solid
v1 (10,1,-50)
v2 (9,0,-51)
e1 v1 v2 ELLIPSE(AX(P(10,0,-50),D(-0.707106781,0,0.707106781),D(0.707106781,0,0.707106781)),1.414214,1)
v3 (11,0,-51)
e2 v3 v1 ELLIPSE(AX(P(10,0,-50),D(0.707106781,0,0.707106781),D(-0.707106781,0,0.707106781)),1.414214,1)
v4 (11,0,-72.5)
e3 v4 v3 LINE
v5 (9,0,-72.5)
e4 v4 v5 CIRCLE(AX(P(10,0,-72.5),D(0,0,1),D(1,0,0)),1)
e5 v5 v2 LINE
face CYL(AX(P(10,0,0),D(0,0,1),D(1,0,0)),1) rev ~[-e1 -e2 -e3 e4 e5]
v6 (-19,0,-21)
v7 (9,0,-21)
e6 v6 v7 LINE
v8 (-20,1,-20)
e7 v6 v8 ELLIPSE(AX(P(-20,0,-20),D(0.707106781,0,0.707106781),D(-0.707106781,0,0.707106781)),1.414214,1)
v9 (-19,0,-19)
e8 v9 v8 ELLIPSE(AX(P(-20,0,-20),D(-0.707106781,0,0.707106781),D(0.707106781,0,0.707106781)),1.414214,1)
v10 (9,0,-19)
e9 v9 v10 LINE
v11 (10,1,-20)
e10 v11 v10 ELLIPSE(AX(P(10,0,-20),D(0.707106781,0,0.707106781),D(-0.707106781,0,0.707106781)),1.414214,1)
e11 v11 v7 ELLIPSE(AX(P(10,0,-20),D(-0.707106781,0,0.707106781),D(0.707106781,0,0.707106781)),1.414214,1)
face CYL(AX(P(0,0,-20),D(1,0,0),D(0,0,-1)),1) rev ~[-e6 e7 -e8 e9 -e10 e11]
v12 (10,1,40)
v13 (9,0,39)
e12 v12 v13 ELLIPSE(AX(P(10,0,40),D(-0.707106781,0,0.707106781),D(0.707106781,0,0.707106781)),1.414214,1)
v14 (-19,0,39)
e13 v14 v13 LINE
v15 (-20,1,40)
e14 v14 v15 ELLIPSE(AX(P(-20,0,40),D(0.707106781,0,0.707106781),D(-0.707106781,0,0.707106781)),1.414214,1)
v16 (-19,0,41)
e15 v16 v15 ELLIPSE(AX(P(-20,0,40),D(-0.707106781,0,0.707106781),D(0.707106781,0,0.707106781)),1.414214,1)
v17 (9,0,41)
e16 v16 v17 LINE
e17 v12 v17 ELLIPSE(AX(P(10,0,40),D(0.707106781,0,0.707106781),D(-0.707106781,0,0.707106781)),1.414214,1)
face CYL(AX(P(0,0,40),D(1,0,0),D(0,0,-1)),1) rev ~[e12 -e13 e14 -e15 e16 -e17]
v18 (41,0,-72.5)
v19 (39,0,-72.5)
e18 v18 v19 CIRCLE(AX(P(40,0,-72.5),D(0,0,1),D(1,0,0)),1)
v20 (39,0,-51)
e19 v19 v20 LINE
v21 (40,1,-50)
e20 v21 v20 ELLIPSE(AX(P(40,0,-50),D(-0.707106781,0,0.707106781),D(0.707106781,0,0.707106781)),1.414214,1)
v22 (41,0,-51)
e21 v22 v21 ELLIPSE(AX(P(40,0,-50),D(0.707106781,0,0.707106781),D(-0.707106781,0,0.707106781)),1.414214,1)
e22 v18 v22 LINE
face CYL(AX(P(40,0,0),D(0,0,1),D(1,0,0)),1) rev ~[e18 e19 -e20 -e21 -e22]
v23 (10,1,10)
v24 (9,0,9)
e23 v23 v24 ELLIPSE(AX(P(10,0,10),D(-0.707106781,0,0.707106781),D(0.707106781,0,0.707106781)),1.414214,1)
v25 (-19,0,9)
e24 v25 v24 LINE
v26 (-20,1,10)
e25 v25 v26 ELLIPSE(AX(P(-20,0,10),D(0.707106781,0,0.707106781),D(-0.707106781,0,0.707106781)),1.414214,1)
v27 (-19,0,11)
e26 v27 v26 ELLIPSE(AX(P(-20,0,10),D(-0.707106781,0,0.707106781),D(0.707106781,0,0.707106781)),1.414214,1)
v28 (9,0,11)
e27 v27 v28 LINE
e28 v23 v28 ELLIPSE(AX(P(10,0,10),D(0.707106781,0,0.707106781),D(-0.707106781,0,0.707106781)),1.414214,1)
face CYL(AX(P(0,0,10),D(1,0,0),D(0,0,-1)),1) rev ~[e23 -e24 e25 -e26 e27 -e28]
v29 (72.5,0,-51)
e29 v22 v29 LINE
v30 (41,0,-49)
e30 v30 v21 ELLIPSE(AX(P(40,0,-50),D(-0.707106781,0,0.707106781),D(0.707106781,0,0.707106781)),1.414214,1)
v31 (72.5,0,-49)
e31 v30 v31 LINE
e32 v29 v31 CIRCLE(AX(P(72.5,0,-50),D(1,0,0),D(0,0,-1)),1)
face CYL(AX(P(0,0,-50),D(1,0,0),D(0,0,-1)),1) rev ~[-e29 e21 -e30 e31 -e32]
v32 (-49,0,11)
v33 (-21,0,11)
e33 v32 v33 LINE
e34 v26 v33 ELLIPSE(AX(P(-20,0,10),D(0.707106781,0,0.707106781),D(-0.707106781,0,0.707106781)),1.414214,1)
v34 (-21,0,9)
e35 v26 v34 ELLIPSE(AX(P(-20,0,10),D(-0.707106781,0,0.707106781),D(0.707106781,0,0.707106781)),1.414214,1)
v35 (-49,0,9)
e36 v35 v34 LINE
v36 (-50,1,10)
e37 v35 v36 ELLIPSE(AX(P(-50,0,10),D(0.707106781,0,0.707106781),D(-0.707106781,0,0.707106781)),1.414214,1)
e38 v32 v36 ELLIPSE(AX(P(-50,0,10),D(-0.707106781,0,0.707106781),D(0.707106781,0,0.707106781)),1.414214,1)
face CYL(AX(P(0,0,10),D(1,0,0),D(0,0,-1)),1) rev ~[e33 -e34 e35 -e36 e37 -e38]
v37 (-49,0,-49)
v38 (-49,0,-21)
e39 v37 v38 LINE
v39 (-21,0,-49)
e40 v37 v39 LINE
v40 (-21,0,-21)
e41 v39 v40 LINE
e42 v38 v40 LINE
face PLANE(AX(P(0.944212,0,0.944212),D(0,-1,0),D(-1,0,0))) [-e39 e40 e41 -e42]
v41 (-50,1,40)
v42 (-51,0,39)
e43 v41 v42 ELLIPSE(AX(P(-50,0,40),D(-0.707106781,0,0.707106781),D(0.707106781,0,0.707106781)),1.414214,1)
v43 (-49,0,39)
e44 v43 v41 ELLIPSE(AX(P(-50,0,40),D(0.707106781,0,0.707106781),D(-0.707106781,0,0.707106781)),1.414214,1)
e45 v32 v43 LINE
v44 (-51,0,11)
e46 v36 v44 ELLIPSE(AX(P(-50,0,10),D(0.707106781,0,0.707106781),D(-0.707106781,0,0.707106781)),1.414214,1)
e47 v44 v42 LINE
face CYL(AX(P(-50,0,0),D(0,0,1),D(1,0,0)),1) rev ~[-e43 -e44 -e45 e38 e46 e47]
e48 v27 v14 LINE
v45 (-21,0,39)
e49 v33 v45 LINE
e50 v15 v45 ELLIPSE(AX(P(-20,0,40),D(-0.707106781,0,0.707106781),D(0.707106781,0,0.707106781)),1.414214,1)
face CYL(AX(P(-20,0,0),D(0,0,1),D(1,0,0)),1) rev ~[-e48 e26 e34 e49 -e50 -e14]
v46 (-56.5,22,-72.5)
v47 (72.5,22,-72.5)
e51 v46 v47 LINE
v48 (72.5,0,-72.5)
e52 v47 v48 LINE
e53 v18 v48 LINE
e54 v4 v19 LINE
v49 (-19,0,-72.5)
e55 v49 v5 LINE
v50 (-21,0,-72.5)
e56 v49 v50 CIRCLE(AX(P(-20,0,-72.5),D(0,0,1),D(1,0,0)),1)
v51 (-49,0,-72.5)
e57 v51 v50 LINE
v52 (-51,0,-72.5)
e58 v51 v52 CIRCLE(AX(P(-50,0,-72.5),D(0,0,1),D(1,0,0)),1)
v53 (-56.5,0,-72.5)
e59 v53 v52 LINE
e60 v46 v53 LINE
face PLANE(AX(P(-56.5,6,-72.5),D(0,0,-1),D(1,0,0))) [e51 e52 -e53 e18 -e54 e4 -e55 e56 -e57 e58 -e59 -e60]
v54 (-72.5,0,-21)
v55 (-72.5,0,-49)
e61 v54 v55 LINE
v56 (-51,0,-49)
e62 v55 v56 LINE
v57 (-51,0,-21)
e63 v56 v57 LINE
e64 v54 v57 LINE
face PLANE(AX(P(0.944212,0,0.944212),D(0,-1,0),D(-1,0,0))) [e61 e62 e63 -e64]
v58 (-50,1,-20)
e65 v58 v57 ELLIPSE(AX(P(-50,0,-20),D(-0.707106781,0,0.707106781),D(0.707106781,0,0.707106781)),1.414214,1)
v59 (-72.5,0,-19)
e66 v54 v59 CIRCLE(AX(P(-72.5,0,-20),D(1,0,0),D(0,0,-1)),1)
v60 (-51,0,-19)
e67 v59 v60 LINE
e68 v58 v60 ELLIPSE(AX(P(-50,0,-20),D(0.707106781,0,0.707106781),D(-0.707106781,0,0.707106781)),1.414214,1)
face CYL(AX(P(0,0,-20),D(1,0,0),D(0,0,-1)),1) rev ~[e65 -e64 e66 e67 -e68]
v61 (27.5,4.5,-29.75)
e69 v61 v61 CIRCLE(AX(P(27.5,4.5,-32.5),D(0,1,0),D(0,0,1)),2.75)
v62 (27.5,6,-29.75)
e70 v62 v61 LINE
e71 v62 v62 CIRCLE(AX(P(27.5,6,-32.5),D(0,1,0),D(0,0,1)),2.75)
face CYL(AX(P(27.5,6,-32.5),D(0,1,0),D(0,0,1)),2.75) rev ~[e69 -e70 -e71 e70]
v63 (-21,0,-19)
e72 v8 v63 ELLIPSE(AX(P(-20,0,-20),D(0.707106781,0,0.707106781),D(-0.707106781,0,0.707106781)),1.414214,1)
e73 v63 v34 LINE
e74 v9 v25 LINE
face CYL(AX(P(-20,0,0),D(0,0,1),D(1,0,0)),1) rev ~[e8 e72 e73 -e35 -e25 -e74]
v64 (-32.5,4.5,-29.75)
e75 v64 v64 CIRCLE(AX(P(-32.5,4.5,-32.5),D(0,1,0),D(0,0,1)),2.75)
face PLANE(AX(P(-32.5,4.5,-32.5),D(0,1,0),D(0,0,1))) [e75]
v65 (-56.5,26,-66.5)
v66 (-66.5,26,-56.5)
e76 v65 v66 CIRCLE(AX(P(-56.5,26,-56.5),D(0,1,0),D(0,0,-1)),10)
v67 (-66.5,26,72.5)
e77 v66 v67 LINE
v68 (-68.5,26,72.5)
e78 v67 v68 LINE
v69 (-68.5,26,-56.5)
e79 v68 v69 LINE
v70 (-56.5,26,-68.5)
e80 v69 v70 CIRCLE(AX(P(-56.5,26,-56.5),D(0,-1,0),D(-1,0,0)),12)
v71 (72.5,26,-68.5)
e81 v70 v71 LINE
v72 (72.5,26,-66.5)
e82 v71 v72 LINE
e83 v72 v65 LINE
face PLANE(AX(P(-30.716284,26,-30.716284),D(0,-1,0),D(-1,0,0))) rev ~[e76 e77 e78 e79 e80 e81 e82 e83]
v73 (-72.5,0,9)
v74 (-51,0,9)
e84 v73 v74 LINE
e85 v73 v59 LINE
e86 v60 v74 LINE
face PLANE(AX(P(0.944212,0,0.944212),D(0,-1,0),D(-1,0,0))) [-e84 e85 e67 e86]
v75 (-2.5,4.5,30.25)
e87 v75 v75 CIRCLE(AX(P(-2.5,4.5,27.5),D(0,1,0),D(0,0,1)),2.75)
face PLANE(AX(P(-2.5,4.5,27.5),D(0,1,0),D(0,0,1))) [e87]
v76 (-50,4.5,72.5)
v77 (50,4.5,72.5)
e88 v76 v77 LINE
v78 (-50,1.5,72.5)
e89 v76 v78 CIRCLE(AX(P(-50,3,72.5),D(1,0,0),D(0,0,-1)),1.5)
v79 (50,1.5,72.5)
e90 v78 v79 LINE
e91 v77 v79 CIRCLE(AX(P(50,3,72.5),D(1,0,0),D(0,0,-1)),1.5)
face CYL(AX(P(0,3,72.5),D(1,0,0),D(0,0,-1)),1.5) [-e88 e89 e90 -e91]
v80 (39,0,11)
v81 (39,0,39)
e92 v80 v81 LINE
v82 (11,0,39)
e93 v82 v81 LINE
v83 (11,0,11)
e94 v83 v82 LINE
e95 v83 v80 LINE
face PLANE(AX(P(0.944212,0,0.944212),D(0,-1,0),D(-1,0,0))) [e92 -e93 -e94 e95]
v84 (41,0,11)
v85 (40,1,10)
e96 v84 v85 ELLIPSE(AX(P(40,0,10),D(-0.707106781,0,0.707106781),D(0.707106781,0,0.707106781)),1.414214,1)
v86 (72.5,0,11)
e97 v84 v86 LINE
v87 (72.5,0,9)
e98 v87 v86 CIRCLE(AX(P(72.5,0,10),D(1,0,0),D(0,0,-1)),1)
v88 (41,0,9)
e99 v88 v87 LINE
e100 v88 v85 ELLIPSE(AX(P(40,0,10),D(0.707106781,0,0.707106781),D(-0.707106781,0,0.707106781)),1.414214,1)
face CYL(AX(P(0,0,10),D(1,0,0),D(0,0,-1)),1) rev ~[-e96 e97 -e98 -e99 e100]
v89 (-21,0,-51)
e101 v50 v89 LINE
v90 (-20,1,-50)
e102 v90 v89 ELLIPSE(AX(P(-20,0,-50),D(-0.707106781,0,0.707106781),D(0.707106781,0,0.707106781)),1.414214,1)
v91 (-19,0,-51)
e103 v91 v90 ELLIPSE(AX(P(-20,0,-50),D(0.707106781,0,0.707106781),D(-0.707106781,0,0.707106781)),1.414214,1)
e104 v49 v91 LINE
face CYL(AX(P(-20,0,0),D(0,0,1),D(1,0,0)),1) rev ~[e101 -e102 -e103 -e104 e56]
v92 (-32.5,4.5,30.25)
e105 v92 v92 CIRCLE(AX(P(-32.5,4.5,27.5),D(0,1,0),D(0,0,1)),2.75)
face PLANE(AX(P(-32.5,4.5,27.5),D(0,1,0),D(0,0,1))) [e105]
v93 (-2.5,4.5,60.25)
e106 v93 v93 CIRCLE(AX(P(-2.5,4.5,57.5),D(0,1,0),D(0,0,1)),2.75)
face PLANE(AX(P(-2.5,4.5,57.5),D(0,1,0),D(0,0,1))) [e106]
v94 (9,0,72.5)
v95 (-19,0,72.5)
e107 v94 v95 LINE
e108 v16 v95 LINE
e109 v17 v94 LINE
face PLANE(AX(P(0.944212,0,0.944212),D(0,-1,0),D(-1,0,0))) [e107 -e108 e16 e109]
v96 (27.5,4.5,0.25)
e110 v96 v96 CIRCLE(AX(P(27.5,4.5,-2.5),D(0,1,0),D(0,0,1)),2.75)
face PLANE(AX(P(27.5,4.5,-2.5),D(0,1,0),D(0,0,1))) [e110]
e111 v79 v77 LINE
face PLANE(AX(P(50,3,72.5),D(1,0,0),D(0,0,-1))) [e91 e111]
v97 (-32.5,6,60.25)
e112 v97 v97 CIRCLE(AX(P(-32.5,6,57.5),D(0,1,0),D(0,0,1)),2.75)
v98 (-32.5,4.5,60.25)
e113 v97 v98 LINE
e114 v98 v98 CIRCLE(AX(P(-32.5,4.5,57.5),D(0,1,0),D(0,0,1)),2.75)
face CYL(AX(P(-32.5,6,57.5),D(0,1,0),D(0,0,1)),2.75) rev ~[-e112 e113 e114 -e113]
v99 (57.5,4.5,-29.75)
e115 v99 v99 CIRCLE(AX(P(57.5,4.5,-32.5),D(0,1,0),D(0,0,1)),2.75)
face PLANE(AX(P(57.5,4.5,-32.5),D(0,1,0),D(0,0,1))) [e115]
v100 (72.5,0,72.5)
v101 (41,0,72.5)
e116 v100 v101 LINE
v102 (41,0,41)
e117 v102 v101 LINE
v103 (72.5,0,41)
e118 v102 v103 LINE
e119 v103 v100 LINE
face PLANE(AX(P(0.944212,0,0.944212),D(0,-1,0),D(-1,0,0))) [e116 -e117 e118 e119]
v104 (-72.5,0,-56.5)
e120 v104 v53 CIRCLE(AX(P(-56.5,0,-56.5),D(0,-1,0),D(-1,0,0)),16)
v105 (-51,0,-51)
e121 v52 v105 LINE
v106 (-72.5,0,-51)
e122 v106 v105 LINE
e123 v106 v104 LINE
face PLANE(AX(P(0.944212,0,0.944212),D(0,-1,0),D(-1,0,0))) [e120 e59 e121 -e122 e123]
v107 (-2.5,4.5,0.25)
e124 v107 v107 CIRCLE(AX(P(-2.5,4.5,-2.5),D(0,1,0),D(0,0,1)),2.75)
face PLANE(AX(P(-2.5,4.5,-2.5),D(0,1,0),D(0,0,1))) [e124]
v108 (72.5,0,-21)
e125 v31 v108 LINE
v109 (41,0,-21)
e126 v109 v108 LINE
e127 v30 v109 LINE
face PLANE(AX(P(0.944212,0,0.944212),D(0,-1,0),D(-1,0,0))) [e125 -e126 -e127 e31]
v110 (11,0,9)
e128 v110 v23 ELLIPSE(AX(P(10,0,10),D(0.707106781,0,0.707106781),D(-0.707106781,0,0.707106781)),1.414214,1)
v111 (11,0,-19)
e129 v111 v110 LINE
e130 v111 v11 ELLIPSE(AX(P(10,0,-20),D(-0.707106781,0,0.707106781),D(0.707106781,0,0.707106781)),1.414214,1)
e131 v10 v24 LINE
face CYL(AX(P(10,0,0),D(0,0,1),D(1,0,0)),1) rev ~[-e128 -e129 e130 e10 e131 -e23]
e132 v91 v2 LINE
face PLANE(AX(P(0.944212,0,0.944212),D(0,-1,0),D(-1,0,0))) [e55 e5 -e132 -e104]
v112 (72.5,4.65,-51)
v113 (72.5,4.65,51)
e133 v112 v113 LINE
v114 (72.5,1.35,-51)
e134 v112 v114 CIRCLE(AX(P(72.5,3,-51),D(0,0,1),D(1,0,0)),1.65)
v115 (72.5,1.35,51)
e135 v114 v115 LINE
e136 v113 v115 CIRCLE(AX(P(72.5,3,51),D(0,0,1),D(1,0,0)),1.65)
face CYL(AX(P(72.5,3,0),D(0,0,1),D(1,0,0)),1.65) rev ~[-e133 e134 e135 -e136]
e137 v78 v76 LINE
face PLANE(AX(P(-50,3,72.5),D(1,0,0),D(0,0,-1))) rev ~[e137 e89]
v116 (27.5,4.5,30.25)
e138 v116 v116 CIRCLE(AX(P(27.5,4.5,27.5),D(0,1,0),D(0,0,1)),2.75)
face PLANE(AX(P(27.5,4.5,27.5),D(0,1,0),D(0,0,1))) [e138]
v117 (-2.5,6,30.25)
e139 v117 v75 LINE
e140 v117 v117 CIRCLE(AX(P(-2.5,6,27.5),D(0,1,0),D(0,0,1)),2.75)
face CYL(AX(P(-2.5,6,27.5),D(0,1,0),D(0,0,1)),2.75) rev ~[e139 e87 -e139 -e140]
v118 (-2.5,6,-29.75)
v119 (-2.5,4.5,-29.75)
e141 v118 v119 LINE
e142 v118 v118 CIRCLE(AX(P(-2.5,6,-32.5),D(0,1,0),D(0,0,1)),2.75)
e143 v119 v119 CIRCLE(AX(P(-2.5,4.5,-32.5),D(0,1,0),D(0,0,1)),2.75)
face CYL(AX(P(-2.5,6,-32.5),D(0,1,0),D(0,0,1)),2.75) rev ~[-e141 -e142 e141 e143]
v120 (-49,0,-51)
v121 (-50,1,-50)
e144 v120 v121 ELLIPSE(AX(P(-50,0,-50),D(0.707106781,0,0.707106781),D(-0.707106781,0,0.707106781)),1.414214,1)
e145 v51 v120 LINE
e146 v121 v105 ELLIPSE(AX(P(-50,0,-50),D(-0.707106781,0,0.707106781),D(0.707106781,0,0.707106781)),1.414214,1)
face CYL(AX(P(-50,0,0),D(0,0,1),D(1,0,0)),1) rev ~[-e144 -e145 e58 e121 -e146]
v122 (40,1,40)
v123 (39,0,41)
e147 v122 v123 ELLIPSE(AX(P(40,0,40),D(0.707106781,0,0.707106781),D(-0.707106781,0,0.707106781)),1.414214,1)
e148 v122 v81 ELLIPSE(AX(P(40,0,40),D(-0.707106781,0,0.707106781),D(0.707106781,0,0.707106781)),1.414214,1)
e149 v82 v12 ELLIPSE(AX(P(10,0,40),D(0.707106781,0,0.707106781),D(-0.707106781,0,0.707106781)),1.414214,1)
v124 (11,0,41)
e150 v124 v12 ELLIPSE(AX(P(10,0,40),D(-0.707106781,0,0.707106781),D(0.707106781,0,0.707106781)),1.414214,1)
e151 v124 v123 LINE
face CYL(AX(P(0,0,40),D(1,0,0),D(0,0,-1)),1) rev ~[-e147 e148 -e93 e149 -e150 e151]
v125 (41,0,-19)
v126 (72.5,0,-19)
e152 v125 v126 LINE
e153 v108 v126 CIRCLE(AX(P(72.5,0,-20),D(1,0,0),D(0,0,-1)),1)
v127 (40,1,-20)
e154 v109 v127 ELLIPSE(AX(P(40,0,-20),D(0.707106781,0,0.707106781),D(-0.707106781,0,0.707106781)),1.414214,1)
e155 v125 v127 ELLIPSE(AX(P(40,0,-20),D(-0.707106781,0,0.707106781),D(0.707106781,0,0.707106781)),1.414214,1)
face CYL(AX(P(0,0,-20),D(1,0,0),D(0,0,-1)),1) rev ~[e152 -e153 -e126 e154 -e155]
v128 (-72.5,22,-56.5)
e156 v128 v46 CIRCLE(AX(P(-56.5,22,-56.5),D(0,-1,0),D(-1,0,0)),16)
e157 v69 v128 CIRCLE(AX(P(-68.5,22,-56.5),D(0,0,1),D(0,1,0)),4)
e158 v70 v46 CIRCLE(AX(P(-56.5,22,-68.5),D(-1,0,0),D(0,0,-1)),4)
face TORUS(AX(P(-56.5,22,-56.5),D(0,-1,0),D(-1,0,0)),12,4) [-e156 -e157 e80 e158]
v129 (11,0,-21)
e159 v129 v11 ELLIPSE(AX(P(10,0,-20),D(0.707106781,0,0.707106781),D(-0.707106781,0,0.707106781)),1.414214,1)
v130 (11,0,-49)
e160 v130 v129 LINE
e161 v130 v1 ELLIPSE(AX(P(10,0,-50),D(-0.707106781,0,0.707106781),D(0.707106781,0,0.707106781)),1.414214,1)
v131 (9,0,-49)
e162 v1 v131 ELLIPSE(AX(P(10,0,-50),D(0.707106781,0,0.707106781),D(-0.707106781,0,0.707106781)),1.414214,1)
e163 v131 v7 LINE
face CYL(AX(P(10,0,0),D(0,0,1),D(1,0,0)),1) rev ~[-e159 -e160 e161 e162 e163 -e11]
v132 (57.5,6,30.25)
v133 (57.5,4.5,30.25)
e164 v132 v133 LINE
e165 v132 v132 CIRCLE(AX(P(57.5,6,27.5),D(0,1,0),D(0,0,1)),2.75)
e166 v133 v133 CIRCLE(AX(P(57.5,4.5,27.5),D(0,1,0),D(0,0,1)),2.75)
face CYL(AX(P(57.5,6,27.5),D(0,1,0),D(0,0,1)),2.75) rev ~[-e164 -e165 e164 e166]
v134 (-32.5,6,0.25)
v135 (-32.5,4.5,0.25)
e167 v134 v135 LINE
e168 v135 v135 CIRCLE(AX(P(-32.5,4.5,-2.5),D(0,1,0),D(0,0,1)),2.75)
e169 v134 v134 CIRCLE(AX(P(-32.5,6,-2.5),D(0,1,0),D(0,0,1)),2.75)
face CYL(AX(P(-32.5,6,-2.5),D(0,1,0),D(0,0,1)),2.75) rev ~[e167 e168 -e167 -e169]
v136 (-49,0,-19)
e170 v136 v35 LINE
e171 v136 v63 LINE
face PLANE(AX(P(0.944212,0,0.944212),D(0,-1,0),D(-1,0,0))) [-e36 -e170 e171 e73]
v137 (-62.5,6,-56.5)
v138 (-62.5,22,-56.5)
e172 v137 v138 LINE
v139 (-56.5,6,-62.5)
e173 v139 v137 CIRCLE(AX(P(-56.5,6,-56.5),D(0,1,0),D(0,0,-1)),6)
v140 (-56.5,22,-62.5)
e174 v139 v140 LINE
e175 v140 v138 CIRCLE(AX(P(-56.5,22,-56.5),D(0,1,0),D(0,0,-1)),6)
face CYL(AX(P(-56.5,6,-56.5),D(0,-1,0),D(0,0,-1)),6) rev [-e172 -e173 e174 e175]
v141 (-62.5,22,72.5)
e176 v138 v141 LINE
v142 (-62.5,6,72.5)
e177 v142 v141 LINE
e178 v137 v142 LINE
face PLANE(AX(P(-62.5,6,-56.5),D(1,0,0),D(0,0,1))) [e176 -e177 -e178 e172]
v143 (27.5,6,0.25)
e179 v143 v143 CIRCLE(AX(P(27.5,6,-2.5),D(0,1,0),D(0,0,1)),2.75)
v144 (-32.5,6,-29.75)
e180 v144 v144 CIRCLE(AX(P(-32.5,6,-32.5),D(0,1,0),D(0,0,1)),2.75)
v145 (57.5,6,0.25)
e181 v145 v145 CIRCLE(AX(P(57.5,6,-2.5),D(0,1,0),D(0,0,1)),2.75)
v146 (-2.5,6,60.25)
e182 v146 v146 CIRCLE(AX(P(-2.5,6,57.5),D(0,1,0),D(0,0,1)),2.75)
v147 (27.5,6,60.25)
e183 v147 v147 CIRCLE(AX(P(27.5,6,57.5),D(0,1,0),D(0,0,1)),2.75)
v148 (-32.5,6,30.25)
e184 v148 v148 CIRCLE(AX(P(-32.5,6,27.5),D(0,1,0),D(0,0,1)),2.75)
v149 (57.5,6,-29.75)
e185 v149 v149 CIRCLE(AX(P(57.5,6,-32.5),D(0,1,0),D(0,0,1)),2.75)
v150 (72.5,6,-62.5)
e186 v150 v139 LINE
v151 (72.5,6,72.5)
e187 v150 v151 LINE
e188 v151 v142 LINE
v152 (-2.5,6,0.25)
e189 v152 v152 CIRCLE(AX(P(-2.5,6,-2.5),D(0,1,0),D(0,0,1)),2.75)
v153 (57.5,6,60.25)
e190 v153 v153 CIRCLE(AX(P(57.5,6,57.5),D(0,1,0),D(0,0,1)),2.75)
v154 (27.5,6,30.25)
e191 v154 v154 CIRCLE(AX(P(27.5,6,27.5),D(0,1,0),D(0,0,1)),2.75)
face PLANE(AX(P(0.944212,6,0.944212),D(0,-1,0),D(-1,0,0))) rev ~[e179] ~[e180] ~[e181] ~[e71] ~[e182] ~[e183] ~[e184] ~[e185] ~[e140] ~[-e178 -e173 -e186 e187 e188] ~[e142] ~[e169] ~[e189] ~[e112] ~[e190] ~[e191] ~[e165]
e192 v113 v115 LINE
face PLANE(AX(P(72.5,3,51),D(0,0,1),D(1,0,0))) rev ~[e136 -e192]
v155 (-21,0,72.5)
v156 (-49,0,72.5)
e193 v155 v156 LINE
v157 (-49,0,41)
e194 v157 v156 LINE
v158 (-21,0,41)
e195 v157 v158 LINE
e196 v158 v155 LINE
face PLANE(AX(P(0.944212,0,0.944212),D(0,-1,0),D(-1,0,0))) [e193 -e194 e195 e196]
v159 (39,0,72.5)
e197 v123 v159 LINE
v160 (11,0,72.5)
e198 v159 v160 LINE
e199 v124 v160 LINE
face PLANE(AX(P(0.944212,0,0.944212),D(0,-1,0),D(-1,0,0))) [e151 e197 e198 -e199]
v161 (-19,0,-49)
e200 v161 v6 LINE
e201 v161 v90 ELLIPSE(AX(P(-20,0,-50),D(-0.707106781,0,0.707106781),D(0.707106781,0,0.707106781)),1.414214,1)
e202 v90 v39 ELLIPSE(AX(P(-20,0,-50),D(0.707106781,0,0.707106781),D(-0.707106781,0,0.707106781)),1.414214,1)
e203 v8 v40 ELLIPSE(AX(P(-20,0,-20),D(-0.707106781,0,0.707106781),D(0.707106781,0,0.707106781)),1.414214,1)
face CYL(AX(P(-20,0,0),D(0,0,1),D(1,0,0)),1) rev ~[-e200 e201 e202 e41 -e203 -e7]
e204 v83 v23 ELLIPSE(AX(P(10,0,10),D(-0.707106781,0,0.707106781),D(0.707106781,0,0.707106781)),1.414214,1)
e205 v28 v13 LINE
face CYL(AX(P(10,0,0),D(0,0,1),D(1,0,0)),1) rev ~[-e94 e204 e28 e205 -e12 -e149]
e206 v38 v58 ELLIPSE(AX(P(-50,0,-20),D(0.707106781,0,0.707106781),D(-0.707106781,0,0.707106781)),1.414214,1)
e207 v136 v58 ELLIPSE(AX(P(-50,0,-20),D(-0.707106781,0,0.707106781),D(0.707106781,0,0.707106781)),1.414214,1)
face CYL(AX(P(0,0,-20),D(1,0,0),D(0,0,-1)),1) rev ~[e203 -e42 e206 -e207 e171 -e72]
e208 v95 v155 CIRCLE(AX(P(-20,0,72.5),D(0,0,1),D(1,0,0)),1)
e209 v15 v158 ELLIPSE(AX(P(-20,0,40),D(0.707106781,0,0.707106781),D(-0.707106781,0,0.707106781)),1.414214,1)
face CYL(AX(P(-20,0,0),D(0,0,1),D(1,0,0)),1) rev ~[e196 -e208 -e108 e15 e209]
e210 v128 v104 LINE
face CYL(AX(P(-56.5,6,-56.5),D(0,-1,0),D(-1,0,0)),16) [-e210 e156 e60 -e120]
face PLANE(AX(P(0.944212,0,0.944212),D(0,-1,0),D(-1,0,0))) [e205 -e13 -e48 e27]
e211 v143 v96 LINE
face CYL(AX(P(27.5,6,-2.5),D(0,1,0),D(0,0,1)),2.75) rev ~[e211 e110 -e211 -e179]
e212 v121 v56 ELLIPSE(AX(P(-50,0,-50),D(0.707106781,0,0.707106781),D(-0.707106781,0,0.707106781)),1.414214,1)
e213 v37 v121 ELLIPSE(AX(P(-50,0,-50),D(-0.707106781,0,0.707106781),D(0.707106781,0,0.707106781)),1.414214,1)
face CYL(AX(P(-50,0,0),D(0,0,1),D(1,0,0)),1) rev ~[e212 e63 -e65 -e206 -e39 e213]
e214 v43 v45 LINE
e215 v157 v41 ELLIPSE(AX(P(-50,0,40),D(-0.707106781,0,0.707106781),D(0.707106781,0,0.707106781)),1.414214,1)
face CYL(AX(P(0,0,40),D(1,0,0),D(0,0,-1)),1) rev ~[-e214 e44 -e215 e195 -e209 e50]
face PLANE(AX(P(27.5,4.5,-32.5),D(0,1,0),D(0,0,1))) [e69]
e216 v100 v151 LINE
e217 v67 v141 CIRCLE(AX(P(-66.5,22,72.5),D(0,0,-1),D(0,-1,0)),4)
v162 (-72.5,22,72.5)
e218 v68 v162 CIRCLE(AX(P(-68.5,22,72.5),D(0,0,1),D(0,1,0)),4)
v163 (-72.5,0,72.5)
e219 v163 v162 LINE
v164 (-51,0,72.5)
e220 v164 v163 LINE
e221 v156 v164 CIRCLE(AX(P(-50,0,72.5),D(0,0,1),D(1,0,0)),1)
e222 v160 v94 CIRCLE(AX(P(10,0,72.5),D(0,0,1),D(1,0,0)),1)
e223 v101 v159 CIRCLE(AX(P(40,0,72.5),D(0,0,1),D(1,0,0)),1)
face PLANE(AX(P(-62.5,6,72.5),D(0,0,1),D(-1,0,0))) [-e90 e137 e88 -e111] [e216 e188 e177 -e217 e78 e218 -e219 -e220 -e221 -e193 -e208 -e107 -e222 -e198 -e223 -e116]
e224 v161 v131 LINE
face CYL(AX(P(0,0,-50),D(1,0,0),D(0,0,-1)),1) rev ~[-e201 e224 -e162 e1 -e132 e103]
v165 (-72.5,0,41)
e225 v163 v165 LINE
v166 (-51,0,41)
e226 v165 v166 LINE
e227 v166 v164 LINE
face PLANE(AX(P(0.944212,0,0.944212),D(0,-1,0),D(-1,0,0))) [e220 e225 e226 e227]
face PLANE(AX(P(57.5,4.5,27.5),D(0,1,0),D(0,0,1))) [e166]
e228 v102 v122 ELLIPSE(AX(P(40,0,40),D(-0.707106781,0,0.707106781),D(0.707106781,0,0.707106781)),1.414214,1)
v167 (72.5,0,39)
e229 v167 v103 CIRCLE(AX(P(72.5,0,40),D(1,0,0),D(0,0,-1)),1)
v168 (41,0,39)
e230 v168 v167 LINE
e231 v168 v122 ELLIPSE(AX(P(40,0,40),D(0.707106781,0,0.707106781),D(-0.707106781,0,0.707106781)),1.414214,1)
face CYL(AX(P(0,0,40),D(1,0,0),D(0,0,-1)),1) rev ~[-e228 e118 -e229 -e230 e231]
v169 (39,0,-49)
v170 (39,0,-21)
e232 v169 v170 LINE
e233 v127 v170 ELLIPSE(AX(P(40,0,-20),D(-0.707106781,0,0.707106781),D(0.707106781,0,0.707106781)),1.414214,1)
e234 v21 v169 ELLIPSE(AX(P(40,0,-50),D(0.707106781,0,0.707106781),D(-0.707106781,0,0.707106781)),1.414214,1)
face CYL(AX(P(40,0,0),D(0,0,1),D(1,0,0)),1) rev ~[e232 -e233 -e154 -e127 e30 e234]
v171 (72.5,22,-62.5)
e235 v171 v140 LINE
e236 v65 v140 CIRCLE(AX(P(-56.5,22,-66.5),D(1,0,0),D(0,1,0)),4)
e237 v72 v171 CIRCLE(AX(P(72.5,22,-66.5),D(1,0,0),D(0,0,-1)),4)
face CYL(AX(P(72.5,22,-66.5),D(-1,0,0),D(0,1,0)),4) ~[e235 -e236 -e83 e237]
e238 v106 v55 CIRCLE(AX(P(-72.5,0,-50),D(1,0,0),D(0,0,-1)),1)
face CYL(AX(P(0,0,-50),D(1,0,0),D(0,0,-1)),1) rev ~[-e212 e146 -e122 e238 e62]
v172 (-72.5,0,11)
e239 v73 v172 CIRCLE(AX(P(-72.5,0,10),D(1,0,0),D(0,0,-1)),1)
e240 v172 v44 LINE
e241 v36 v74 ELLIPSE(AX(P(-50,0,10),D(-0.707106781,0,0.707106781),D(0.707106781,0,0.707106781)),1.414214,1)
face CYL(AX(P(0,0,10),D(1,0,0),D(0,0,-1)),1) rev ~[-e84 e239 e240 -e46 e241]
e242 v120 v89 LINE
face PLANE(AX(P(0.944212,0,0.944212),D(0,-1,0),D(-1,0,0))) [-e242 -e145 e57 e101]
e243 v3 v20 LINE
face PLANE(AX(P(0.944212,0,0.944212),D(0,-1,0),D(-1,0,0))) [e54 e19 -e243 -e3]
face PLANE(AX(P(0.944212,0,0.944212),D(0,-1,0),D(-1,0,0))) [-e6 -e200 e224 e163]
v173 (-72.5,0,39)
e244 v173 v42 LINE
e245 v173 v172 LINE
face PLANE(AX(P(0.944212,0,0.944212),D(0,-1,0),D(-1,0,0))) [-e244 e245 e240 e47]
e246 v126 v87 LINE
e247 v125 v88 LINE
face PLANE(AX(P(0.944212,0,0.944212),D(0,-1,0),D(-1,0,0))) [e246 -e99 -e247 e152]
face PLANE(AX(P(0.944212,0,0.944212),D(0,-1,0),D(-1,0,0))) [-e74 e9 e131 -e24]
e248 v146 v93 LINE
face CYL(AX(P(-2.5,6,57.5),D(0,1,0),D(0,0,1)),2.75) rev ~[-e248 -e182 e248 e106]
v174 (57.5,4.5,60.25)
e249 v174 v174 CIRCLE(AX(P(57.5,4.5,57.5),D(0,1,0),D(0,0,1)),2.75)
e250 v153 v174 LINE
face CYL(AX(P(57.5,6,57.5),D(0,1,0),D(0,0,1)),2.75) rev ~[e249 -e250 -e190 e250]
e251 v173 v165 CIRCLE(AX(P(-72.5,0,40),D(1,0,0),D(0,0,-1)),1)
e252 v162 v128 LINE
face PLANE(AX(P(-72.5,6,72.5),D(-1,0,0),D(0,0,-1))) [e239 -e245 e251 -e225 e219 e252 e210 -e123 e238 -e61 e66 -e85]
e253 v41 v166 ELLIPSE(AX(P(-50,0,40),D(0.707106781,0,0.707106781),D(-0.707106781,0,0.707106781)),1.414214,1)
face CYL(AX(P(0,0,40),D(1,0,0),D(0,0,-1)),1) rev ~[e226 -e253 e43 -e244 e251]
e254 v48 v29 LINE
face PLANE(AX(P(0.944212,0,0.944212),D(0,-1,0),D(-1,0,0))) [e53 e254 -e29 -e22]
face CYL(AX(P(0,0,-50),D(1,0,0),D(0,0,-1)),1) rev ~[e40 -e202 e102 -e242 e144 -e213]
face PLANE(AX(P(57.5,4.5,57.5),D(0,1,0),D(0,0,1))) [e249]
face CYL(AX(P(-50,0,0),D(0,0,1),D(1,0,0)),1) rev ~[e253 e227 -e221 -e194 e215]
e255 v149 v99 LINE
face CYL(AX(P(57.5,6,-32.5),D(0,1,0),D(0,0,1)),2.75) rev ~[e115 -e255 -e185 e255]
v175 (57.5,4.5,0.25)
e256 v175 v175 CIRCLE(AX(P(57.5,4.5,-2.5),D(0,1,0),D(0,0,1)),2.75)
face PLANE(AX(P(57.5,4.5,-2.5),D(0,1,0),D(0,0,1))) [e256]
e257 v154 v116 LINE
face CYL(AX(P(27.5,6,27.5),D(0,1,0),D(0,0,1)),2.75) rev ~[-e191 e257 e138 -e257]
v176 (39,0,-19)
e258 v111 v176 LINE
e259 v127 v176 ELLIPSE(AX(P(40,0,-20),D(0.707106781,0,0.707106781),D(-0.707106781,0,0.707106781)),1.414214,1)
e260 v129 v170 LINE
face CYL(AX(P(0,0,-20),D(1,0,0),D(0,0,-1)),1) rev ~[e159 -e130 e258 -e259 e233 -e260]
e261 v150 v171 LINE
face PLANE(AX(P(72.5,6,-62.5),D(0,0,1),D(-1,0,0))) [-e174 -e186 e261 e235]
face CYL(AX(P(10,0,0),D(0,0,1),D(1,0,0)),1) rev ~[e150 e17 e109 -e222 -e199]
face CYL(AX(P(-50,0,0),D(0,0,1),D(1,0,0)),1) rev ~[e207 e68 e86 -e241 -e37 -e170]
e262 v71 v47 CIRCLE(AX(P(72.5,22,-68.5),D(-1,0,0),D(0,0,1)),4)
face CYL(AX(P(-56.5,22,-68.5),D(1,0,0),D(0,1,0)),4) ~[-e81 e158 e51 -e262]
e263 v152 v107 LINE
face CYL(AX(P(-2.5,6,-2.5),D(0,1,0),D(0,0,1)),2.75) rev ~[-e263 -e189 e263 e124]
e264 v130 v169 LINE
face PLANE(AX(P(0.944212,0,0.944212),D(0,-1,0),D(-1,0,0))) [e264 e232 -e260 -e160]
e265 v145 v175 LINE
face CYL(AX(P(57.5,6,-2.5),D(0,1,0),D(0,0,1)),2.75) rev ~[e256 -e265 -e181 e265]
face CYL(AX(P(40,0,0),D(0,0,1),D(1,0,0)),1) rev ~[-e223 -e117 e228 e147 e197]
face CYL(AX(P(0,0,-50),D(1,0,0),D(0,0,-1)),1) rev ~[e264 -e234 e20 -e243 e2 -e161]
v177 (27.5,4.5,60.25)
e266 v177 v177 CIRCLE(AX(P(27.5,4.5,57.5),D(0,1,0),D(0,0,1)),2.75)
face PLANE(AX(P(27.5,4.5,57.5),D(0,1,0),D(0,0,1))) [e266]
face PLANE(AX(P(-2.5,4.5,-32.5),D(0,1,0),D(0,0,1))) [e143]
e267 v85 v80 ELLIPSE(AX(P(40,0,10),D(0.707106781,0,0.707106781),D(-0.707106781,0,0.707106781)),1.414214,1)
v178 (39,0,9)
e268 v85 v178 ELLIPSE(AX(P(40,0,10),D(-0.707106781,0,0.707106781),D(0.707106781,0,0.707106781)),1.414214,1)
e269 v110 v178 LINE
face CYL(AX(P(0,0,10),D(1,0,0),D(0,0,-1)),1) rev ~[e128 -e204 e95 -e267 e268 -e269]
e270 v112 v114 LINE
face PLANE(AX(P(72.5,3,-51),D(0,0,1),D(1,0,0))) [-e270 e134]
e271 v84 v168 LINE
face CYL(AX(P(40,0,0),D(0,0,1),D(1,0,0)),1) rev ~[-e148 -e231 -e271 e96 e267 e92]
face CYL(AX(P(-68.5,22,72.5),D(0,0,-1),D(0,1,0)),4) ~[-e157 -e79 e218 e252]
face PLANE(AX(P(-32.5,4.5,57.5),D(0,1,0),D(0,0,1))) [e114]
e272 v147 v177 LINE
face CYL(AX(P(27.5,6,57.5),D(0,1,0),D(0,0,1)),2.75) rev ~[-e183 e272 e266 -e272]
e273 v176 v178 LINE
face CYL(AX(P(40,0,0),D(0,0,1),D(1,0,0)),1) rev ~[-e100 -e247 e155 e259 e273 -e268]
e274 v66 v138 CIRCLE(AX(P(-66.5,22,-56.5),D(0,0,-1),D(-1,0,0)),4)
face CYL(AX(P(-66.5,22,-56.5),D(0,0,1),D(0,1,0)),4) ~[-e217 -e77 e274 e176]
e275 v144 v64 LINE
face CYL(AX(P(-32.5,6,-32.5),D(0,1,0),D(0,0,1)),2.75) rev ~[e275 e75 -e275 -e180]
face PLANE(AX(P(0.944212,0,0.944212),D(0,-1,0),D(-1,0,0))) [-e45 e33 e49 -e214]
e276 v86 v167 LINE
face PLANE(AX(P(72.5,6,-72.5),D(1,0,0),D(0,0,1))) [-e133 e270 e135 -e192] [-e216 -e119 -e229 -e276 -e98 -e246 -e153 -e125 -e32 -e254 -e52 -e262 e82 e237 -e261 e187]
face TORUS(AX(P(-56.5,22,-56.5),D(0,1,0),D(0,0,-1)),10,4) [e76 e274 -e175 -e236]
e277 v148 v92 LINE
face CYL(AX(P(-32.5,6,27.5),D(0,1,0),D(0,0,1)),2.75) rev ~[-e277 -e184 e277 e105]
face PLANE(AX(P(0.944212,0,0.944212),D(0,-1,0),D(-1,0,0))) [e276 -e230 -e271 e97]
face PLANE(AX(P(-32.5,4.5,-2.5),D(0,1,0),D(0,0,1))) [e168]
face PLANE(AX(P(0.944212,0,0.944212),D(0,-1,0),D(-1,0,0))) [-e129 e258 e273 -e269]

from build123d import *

# Parameters (mm, degrees)
BOSS_EXTRUDE1_DEPTH  = 6
EXTRUDE_THIN1_DEPTH  = 20
SKETCH3_R            = 2.75
CUT_EXTRUDE1_DEPTH   = 1.5
LPATTERN1_COUNT      = 4
LPATTERN1_PITCH      = 30
LPATTERN1_COUNT_DIR2 = 4
LPATTERN1_PITCH_DIR2 = 30
FILLET1_R            = 4
SKETCH4_R            = 1.5
BOSS_EXTRUDE2_DEPTH  = 50
SKETCH5_R            = 1.65
CUT_EXTRUDE2_DEPTH   = 51
SKETCH6_R            = 1
CUT_EXTRUDE3_DEPTH   = 107.809409698
LPATTERN2_COUNT      = 4
LPATTERN2_PITCH      = 30
SKETCH7_R            = 1
CUT_EXTRUDE4_DEPTH   = 107.809409698
LPATTERN3_COUNT      = 4
LPATTERN3_PITCH      = 30


with BuildPart() as part:
    # Sketch1 → Boss-Extrude1 (new body)
    with BuildSketch(Plane(origin=(0, 0, 0), x_dir=(1, 0, 0), z_dir=(0, 1, 0))):
        with BuildLine():
            Line((-56.5, 72.5), (72.5, 72.5))
            Line((72.5, 72.5), (72.5, -72.5))
            Line((72.5, -72.5), (-72.5, -72.5))
            Line((-72.5, -72.5), (-72.5, 56.5))
            ThreePointArc((-72.5, 56.5), (-67.813708499, 67.813708499), (-56.5, 72.5))
        make_face()
    extrude(amount=BOSS_EXTRUDE1_DEPTH)

    # Sketch2 → Extrude-Thin1 (add)
    with BuildSketch(Plane(origin=(0, 6, 0), x_dir=(1, 0, 0), z_dir=(0, 1, 0))):
        with BuildLine():
            Line((-72.5, -72.5), (-72.5, 56.5))
            ThreePointArc((-72.5, 56.5), (-67.813708499, 67.813708499), (-56.5, 72.5))
            Line((-56.5, 72.5), (72.5, 72.5))
            Line((72.5, 72.5), (72.5, 62.5))
            Line((72.5, 62.5), (-56.5, 62.5))
            ThreePointArc((-56.5, 62.5), (-60.742640687, 60.742640687), (-62.5, 56.5))
            Line((-62.5, 56.5), (-62.5, -72.5))
            Line((-62.5, -72.5), (-72.5, -72.5))
        make_face()
    extrude(amount=EXTRUDE_THIN1_DEPTH)

    # Sketch3 → Cut-Extrude1 (cut)
    with BuildSketch(Plane(origin=(0, 6, 0), x_dir=(1, 0, 0), z_dir=(0, 1, 0))):
        with Locations(Location((57.5, -57.5, 0), (0, 0, 270))):
            Circle(SKETCH3_R)
    cut_extrude1 = extrude(amount=-CUT_EXTRUDE1_DEPTH, mode=Mode.SUBTRACT)

    # LPattern1: Cut-Extrude1 4 × 4
    with Locations(*[(-i * LPATTERN1_PITCH, 0, -j * LPATTERN1_PITCH_DIR2) for i in range(LPATTERN1_COUNT) for j in range(LPATTERN1_COUNT_DIR2) if (i, j) != (0, 0)]):
        add(cut_extrude1, mode=Mode.SUBTRACT)

    # Fillet1
    fillet1_edges = [part.edges().sort_by_distance(p)[0] for p in [
        (8, 26, -72.5),
        (-67.813708499, 26, -67.813708499),
        (-72.5, 26, 8),
        (8, 26, -62.5),
        (-62.5, 26, 8),
        (-60.742640687, 26, -60.742640687),
    ]]
    fillet(fillet1_edges, radius=FILLET1_R)

    # Sketch4 → Boss-Extrude2 (add, symmetric)
    with BuildSketch(Plane(origin=(0, 0, 0), x_dir=(0, 0, -1), z_dir=(1, 0, 0))):
        with Locations((-72.5, 3)):
            Circle(SKETCH4_R)
    extrude(amount=BOSS_EXTRUDE2_DEPTH, both=True)

    # Sketch5 → Cut-Extrude2 (cut, symmetric)
    with BuildSketch(Plane.XY):
        with Locations((72.5, 3)):
            Circle(SKETCH5_R)
    extrude(amount=CUT_EXTRUDE2_DEPTH, both=True, mode=Mode.SUBTRACT)

    # Sketch6 → Cut-Extrude3 (cut, symmetric)
    with BuildSketch(Plane.XY):
        with Locations((-50, 0)):
            Circle(SKETCH6_R)
    cut_extrude3 = extrude(amount=CUT_EXTRUDE3_DEPTH, both=True, mode=Mode.SUBTRACT)

    # LPattern2: Cut-Extrude3 ×4
    with Locations(*[(i * LPATTERN2_PITCH, 0, 0) for i in range(1, LPATTERN2_COUNT)]):
        add(cut_extrude3, mode=Mode.SUBTRACT)

    # Sketch7 → Cut-Extrude4 (cut, symmetric)
    with BuildSketch(Plane(origin=(0, 0, 0), x_dir=(0, 0, -1), z_dir=(1, 0, 0))):
        with Locations((50, 0)):
            Circle(SKETCH7_R)
    cut_extrude4 = extrude(amount=CUT_EXTRUDE4_DEPTH, both=True, mode=Mode.SUBTRACT)

    # LPattern3: Cut-Extrude4 ×4
    with Locations(*[(0, 0, i * LPATTERN3_PITCH) for i in range(1, LPATTERN3_COUNT)]):
        add(cut_extrude4, mode=Mode.SUBTRACT)


solid = part.part
